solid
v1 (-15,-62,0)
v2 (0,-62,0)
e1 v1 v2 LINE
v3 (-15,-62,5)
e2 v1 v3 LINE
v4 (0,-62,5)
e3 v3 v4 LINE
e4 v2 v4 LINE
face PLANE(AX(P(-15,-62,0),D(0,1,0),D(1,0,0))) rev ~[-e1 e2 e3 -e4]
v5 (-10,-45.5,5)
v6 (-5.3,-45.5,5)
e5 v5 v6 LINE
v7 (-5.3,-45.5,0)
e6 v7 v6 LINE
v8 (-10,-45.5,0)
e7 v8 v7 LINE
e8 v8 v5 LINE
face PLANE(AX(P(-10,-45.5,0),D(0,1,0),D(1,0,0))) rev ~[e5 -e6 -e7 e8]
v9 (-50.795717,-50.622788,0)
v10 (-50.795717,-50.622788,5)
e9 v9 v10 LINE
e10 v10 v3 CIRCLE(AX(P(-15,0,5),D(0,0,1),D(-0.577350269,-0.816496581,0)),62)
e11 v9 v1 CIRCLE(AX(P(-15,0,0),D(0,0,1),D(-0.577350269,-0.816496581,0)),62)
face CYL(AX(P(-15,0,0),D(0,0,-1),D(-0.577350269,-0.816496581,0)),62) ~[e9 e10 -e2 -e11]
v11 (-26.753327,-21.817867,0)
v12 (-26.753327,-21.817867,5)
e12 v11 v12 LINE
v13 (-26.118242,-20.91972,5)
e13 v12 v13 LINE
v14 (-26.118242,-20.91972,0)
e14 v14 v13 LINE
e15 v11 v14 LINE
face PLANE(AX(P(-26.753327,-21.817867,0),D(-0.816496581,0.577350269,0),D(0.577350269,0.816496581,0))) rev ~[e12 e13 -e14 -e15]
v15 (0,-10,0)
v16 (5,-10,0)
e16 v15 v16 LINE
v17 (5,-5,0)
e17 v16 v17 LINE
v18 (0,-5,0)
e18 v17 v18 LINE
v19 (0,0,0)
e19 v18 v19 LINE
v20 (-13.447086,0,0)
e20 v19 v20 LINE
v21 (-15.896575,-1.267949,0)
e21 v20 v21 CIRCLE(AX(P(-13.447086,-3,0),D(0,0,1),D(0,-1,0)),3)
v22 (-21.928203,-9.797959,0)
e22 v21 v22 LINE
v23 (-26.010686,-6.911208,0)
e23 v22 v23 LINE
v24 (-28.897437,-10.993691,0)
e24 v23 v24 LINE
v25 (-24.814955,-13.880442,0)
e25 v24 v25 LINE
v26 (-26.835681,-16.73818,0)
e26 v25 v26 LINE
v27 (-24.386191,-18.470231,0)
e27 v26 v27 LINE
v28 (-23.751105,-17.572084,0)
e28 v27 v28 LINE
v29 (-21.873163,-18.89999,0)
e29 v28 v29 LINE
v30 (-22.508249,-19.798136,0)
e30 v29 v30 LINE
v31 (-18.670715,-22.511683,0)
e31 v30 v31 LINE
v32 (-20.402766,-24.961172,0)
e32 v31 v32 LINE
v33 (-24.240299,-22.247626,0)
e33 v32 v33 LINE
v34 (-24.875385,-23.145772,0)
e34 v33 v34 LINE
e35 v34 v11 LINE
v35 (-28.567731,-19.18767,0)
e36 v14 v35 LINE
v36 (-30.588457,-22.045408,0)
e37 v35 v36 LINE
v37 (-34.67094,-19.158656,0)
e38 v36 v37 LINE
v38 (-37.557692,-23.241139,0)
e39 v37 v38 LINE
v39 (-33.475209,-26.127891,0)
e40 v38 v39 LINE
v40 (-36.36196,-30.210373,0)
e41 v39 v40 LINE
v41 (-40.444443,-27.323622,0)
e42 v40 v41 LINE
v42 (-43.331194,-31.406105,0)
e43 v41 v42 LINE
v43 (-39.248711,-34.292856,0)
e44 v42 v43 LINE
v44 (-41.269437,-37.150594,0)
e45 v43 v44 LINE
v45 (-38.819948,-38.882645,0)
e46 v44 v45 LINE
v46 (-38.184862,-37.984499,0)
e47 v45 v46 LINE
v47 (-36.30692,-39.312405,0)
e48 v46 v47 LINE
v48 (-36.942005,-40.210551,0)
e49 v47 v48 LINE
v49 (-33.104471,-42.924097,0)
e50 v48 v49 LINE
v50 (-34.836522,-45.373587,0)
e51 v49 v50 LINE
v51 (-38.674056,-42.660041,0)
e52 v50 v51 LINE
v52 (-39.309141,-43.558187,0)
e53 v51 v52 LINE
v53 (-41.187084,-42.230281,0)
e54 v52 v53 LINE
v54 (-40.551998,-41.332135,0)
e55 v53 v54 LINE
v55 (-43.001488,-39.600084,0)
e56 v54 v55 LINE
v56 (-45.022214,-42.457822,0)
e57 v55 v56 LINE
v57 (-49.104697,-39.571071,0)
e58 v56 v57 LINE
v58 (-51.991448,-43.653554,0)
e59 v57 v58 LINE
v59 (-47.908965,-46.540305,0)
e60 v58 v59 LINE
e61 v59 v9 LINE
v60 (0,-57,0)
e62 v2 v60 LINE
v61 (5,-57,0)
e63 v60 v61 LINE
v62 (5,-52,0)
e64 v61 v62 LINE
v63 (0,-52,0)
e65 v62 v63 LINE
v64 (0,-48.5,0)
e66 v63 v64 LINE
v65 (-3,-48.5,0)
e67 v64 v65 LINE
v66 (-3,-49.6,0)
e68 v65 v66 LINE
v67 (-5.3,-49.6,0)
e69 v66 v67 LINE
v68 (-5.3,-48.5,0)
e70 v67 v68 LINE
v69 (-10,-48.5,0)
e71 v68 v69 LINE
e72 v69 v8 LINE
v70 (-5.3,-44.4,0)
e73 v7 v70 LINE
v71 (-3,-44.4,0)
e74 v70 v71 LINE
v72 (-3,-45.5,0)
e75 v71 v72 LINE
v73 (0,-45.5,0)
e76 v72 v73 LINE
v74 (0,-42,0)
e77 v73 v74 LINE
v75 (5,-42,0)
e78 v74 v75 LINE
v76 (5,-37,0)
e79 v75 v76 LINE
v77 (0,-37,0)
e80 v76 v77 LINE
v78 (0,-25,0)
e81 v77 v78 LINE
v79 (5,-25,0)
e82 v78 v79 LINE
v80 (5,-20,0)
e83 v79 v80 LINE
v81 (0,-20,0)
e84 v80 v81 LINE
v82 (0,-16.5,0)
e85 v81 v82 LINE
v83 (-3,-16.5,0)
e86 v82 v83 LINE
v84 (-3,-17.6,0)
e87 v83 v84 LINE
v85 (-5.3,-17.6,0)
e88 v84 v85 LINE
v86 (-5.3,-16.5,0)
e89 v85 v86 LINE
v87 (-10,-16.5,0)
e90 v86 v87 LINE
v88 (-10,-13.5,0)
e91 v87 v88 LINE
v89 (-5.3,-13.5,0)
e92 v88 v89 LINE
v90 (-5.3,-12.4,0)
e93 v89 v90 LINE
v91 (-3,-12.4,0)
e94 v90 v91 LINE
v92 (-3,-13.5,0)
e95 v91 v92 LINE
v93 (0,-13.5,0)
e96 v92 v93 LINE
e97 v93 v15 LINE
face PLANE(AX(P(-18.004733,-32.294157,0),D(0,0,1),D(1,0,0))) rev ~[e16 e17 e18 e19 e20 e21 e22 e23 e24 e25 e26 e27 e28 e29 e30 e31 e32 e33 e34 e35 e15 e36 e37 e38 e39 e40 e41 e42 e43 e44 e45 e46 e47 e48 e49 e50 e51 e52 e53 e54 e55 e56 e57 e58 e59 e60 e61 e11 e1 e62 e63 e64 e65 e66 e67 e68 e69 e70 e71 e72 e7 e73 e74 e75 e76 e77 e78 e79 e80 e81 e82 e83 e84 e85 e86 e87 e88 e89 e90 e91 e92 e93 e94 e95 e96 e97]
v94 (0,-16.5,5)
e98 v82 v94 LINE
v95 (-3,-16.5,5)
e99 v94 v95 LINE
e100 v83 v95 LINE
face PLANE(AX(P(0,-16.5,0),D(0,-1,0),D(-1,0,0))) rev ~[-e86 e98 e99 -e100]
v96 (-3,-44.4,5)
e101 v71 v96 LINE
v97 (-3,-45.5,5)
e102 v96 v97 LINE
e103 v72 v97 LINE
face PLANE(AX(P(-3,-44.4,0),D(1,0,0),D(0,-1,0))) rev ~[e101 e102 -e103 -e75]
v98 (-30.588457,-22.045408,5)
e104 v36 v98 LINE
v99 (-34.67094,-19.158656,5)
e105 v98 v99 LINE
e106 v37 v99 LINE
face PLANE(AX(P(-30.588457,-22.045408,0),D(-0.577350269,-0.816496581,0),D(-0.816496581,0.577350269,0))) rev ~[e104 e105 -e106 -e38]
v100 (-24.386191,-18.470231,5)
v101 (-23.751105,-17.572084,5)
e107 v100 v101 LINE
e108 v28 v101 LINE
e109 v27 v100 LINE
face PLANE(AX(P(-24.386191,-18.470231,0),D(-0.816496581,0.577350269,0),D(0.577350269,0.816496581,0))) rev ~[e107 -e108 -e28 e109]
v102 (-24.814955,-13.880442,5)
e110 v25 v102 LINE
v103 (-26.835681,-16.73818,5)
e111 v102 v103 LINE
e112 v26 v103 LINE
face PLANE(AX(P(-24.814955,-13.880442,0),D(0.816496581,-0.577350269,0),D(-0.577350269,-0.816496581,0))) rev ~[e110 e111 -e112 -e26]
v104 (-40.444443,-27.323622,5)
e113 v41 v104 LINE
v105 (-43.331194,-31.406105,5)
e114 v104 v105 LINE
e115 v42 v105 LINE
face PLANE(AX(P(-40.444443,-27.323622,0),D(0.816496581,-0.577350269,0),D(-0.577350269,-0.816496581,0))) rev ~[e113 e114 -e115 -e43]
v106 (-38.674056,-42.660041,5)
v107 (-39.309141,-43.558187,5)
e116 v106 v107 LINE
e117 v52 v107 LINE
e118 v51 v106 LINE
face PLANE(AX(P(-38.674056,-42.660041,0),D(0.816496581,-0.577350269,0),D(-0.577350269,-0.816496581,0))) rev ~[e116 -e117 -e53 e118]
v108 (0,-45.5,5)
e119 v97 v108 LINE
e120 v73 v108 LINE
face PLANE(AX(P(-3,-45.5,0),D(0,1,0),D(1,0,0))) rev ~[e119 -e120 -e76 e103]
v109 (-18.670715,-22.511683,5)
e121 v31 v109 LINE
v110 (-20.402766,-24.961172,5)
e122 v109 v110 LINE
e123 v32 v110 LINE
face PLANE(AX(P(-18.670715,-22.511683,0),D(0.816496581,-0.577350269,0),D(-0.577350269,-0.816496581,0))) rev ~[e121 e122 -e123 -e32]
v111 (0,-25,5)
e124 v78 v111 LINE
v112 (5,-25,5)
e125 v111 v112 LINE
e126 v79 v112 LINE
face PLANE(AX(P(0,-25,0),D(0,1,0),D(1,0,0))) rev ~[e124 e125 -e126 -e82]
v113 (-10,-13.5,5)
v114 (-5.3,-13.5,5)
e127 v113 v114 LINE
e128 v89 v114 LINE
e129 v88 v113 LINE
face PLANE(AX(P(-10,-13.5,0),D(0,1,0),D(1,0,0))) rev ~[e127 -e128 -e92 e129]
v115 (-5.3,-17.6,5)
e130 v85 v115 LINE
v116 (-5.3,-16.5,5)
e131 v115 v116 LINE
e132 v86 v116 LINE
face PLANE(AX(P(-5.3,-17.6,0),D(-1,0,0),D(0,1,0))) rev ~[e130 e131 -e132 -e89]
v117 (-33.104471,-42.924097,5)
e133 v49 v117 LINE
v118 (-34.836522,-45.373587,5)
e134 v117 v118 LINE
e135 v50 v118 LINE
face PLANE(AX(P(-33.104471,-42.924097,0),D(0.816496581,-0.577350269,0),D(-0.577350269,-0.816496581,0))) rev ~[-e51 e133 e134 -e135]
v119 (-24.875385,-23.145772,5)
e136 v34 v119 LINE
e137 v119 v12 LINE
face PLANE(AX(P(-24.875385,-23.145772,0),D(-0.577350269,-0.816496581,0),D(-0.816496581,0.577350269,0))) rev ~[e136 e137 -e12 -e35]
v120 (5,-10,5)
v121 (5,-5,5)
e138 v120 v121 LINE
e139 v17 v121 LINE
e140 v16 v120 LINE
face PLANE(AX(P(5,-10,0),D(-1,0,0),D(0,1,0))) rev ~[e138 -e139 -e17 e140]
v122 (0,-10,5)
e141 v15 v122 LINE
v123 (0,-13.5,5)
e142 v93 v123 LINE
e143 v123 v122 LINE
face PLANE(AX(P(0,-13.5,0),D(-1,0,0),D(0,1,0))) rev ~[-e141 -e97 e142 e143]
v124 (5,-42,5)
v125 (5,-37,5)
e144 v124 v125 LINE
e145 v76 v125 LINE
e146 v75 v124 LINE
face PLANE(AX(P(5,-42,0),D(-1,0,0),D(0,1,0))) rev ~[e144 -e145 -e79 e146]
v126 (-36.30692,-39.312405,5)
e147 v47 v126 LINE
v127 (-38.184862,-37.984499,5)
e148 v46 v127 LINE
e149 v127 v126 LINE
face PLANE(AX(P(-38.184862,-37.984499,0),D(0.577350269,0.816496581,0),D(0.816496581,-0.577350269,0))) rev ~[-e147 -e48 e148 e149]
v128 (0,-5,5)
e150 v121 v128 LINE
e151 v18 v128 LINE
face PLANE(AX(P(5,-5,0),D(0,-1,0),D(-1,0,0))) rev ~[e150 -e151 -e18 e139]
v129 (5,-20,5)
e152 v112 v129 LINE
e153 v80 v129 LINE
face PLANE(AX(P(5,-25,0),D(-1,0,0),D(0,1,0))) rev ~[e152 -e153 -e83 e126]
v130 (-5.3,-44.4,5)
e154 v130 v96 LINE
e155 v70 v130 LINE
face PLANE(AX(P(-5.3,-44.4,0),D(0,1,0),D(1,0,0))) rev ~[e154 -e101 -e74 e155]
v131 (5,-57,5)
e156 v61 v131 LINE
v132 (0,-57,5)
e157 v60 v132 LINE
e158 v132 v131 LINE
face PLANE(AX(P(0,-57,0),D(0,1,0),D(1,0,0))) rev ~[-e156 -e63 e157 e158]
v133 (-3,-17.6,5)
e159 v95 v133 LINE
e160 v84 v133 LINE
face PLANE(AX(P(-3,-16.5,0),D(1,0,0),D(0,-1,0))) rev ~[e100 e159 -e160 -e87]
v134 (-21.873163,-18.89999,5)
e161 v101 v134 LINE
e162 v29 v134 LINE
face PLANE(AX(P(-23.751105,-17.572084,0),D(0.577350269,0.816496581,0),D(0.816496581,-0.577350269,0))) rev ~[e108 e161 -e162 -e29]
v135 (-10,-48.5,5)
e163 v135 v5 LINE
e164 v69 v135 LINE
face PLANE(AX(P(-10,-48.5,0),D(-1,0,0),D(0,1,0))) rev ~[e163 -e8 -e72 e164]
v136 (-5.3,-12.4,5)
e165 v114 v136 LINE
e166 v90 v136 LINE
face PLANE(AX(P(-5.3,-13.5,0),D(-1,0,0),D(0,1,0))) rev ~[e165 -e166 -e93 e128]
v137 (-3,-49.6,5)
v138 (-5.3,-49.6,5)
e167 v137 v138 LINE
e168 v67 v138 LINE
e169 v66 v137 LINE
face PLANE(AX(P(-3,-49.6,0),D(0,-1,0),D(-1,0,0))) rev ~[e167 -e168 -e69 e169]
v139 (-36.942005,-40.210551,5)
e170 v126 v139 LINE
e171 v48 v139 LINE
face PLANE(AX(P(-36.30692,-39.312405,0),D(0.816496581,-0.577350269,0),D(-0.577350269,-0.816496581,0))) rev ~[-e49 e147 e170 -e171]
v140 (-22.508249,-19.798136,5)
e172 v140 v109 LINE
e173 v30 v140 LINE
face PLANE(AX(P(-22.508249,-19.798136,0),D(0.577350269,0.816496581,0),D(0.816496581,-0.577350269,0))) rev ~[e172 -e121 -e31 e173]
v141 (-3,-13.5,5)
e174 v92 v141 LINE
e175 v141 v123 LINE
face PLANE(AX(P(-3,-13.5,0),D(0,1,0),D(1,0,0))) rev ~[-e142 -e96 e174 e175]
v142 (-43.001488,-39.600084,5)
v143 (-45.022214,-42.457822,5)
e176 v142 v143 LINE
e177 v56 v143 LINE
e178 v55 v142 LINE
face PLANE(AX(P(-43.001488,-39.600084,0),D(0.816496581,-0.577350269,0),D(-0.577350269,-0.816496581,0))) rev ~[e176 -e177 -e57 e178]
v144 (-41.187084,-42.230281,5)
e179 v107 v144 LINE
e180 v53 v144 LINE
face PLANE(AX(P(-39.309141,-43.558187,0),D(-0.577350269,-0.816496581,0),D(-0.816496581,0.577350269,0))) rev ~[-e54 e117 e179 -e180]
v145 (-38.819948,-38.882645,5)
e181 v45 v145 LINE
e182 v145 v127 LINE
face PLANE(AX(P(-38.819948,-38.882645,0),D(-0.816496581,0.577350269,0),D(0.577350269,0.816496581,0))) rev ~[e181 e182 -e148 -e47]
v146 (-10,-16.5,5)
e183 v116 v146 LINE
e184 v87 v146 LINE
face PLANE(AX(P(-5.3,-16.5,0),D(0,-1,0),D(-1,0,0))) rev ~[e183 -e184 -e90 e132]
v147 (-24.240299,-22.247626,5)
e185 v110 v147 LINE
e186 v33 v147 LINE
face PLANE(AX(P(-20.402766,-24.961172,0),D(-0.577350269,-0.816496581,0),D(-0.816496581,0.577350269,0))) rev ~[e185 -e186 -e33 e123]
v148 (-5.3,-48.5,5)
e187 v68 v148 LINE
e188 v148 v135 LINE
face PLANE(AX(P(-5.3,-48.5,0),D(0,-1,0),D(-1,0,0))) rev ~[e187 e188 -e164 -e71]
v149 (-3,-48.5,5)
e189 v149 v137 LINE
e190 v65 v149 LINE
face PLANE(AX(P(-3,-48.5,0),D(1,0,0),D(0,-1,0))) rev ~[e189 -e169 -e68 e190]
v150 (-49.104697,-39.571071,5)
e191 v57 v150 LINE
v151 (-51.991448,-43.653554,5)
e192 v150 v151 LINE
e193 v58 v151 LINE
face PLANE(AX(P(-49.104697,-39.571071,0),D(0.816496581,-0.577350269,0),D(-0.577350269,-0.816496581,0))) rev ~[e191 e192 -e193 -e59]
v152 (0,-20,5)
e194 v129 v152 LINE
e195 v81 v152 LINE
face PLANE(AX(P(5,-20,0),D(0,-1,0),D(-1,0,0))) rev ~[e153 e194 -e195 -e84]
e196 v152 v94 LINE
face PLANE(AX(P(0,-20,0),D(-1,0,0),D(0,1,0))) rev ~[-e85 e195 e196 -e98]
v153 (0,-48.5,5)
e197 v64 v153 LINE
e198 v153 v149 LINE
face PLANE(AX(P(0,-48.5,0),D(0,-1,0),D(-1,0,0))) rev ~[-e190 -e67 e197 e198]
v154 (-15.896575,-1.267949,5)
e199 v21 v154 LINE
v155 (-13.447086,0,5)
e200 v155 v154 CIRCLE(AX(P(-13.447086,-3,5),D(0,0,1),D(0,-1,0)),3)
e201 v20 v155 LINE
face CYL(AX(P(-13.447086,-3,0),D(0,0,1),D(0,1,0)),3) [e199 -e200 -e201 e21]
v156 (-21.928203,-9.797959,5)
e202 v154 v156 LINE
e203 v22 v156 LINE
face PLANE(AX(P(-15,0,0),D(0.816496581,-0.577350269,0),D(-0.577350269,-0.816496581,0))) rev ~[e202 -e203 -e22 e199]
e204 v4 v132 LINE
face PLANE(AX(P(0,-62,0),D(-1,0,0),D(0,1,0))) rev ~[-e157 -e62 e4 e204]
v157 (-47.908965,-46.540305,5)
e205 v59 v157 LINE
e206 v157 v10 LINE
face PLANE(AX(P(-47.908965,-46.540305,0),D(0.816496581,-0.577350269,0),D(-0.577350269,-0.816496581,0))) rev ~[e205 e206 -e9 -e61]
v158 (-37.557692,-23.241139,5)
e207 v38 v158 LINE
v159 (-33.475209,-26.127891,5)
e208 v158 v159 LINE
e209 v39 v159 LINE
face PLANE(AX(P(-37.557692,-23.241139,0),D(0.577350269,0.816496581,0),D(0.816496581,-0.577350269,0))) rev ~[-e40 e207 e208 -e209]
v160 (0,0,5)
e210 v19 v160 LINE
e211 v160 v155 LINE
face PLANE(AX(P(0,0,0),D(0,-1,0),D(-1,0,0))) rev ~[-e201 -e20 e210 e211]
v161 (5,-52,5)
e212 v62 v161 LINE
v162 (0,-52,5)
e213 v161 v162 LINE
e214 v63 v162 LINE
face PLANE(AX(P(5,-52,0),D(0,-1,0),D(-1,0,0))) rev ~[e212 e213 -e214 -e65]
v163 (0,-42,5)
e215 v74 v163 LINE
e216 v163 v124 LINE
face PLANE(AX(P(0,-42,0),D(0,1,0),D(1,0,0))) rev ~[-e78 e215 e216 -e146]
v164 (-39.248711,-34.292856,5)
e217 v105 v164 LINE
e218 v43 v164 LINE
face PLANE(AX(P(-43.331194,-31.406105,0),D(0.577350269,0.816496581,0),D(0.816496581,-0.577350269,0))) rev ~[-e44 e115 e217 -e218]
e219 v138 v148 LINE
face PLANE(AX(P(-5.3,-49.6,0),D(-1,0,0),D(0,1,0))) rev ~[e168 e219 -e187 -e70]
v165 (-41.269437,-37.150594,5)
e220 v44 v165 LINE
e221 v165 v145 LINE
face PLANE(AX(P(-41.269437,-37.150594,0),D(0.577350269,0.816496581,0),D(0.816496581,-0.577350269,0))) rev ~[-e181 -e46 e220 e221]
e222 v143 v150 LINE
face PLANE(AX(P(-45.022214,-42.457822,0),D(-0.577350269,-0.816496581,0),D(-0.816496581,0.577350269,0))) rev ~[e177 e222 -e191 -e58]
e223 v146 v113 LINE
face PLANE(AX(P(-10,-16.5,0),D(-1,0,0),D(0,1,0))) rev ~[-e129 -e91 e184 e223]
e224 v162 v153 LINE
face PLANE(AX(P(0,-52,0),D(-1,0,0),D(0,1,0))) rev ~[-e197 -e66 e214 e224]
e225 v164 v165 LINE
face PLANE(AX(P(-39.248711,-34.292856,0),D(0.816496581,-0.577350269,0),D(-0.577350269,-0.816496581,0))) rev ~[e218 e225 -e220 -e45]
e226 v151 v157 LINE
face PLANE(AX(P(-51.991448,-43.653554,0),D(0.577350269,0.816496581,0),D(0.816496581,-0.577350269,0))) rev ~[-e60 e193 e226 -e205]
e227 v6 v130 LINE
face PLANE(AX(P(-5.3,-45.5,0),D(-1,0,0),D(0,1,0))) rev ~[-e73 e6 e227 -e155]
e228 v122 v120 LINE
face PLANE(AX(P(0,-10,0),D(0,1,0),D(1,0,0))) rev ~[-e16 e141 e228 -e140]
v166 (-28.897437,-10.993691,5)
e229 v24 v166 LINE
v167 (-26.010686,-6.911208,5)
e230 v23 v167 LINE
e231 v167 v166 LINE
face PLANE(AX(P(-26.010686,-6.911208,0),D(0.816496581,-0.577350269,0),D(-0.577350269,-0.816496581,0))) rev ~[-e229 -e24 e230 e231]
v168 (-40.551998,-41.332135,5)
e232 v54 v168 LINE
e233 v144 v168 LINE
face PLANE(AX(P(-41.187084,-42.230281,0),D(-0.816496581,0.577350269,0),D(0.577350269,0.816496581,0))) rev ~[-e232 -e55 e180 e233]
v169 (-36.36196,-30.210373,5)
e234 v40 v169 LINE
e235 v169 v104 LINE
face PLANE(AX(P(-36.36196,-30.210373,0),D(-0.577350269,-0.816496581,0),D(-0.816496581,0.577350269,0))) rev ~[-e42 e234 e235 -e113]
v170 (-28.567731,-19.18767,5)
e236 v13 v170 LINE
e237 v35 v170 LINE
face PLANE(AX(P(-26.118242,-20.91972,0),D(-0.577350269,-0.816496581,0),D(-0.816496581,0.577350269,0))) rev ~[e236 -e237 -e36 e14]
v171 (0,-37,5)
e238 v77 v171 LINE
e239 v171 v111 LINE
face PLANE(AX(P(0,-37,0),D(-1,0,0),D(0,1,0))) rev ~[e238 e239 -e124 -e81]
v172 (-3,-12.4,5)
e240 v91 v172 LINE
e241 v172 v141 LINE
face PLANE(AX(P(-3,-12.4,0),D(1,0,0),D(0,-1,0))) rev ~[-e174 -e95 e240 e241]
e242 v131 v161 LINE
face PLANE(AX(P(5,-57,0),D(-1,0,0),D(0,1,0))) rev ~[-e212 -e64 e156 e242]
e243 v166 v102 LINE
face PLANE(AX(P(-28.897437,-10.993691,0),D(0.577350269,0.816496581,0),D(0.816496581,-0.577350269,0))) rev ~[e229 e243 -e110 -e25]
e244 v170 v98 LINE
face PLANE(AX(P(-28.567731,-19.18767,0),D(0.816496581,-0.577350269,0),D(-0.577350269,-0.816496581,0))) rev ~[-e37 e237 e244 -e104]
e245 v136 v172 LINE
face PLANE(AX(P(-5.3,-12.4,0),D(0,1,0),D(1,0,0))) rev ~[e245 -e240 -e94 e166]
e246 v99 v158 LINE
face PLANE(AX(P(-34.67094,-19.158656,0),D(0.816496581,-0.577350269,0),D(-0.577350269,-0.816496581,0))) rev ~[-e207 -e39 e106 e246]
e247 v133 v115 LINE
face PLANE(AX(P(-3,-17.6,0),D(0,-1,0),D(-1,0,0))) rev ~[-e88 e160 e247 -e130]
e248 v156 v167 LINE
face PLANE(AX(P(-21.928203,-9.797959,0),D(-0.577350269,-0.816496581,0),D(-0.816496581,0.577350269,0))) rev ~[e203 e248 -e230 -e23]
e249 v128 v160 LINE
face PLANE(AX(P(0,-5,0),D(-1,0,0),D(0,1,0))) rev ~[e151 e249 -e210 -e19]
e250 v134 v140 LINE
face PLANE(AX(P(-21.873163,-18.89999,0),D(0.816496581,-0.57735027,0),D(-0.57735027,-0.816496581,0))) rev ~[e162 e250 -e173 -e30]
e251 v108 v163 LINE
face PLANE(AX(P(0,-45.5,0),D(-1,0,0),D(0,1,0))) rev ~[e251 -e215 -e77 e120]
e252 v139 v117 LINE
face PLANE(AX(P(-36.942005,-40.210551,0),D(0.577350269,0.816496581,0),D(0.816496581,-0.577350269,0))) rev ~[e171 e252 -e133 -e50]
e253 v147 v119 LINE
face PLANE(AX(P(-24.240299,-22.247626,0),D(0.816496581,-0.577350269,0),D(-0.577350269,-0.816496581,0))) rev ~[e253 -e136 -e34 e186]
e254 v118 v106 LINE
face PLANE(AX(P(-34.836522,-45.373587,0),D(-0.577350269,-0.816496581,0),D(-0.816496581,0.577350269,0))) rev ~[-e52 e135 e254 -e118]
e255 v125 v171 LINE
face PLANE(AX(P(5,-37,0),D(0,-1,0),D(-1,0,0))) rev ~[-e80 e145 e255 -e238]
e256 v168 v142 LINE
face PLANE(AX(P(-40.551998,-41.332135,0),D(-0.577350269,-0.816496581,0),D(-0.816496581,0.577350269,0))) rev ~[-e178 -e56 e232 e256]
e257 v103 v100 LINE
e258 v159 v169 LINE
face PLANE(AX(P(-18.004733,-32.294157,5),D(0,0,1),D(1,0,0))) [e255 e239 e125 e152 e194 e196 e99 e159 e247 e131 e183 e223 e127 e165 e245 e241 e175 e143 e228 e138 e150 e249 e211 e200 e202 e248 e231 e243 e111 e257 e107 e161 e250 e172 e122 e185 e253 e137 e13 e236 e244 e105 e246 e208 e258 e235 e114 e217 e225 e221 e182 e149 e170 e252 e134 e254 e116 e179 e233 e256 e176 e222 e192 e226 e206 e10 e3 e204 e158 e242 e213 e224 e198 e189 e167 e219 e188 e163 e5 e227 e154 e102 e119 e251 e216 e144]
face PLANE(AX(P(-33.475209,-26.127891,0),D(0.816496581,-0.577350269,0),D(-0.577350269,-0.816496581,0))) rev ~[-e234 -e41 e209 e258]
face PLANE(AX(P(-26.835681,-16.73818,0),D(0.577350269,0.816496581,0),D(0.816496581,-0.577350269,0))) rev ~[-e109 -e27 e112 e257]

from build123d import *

# Parameters (mm, degrees)
BOSS_EXTRU_1_DEPTH = 5
CONG_1_R           = 3


with BuildPart() as part:
    # Esquisse1 → Boss.-Extru.1 (new body)
    with BuildSketch(Plane.XY):
        with BuildLine():
            Line((0, -5), (0, 0))
            Line((0, 0), (-15, 0))
            Line((-15, 0), (-21.92820323, -9.797958971))
            Line((-21.92820323, -9.797958971), (-26.010686135, -6.911207626))
            Line((-26.010686135, -6.911207626), (-28.89743748, -10.99369053))
            Line((-28.89743748, -10.99369053), (-24.814954576, -13.880441876))
            Line((-24.814954576, -13.880441876), (-26.835680518, -16.73817991))
            Line((-26.835680518, -16.73817991), (-24.386190775, -18.470230717))
            Line((-24.386190775, -18.470230717), (-23.751105479, -17.572084478))
            Line((-23.751105479, -17.572084478), (-21.873163342, -18.899990097))
            Line((-21.873163342, -18.899990097), (-22.508248639, -19.798136336))
            Line((-22.508248639, -19.798136336), (-18.670714708, -22.511682601))
            Line((-18.670714708, -22.511682601), (-20.402765515, -24.961172344))
            Line((-20.402765515, -24.961172344), (-24.240299446, -22.247626079))
            Line((-24.240299446, -22.247626079), (-24.875384742, -23.145772318))
            Line((-24.875384742, -23.145772318), (-26.753326878, -21.817866699))
            Line((-26.753326878, -21.817866699), (-26.118241582, -20.91972046))
            Line((-26.118241582, -20.91972046), (-28.567731325, -19.187669652))
            Line((-28.567731325, -19.187669652), (-30.588457267, -22.045407686))
            Line((-30.588457267, -22.045407686), (-34.670940172, -19.15865634))
            Line((-34.670940172, -19.15865634), (-37.557691518, -23.241139245))
            Line((-37.557691518, -23.241139245), (-33.475208613, -26.127890591))
            Line((-33.475208613, -26.127890591), (-36.361959959, -30.210373495))
            Line((-36.361959959, -30.210373495), (-40.444442863, -27.32362215))
            Line((-40.444442863, -27.32362215), (-43.331194209, -31.406105054))
            Line((-43.331194209, -31.406105054), (-39.248711304, -34.2928564))
            Line((-39.248711304, -34.2928564), (-41.269437246, -37.150594433))
            Line((-41.269437246, -37.150594433), (-38.819947503, -38.882645241))
            Line((-38.819947503, -38.882645241), (-38.184862207, -37.984499002))
            Line((-38.184862207, -37.984499002), (-36.306920071, -39.312404621))
            Line((-36.306920071, -39.312404621), (-36.942005367, -40.21055086))
            Line((-36.942005367, -40.21055086), (-33.104471437, -42.924097125))
            Line((-33.104471437, -42.924097125), (-34.836522244, -45.373586868))
            Line((-34.836522244, -45.373586868), (-38.674056175, -42.660040603))
            Line((-38.674056175, -42.660040603), (-39.309141471, -43.558186842))
            Line((-39.309141471, -43.558186842), (-41.187083607, -42.230281223))
            Line((-41.187083607, -42.230281223), (-40.551998311, -41.332134984))
            Line((-40.551998311, -41.332134984), (-43.001488054, -39.600084176))
            Line((-43.001488054, -39.600084176), (-45.022213996, -42.45782221))
            Line((-45.022213996, -42.45782221), (-49.104696901, -39.571070864))
            Line((-49.104696901, -39.571070864), (-51.991448246, -43.653553769))
            Line((-51.991448246, -43.653553769), (-47.908965342, -46.540305114))
            Line((-47.908965342, -46.540305114), (-50.795716687, -50.622788019))
            ThreePointArc((-50.795716687, -50.622788019), (-33.780137683, -59.08727806), (-15, -62))
            Line((-15, -62), (0, -62))
            Line((0, -62), (0, -57))
            Line((0, -57), (5, -57))
            Line((5, -57), (5, -52))
            Line((5, -52), (0, -52))
            Line((0, -52), (0, -48.5))
            Line((0, -48.5), (-3, -48.5))
            Line((-3, -48.5), (-3, -49.6))
            Line((-3, -49.6), (-5.3, -49.6))
            Line((-5.3, -49.6), (-5.3, -48.5))
            Line((-5.3, -48.5), (-10, -48.5))
            Line((-10, -48.5), (-10, -45.5))
            Line((-10, -45.5), (-5.3, -45.5))
            Line((-5.3, -45.5), (-5.3, -44.4))
            Line((-5.3, -44.4), (-3, -44.4))
            Line((-3, -44.4), (-3, -45.5))
            Line((-3, -45.5), (0, -45.5))
            Line((0, -45.5), (0, -42))
            Line((0, -42), (5, -42))
            Line((5, -42), (5, -37))
            Line((5, -37), (0, -37))
            Line((0, -37), (0, -25))
            Line((0, -25), (5, -25))
            Line((5, -25), (5, -20))
            Line((5, -20), (0, -20))
            Line((0, -20), (0, -16.5))
            Line((0, -16.5), (-3, -16.5))
            Line((-3, -16.5), (-3, -17.6))
            Line((-3, -17.6), (-5.3, -17.6))
            Line((-5.3, -17.6), (-5.3, -16.5))
            Line((-5.3, -16.5), (-10, -16.5))
            Line((-10, -16.5), (-10, -13.5))
            Line((-10, -13.5), (-5.3, -13.5))
            Line((-5.3, -13.5), (-5.3, -12.4))
            Line((-5.3, -12.4), (-3, -12.4))
            Line((-3, -12.4), (-3, -13.5))
            Line((-3, -13.5), (0, -13.5))
            Line((0, -13.5), (0, -10))
            Line((0, -10), (5, -10))
            Line((5, -10), (5, -5))
            Line((5, -5), (0, -5))
        make_face()
    extrude(amount=BOSS_EXTRU_1_DEPTH)

    # Congé1
    cong_1_edges = [part.edges().sort_by_distance(p)[0] for p in [
        (-15, 0, 2.5),
    ]]
    fillet(cong_1_edges, radius=CONG_1_R)


solid = part.part
